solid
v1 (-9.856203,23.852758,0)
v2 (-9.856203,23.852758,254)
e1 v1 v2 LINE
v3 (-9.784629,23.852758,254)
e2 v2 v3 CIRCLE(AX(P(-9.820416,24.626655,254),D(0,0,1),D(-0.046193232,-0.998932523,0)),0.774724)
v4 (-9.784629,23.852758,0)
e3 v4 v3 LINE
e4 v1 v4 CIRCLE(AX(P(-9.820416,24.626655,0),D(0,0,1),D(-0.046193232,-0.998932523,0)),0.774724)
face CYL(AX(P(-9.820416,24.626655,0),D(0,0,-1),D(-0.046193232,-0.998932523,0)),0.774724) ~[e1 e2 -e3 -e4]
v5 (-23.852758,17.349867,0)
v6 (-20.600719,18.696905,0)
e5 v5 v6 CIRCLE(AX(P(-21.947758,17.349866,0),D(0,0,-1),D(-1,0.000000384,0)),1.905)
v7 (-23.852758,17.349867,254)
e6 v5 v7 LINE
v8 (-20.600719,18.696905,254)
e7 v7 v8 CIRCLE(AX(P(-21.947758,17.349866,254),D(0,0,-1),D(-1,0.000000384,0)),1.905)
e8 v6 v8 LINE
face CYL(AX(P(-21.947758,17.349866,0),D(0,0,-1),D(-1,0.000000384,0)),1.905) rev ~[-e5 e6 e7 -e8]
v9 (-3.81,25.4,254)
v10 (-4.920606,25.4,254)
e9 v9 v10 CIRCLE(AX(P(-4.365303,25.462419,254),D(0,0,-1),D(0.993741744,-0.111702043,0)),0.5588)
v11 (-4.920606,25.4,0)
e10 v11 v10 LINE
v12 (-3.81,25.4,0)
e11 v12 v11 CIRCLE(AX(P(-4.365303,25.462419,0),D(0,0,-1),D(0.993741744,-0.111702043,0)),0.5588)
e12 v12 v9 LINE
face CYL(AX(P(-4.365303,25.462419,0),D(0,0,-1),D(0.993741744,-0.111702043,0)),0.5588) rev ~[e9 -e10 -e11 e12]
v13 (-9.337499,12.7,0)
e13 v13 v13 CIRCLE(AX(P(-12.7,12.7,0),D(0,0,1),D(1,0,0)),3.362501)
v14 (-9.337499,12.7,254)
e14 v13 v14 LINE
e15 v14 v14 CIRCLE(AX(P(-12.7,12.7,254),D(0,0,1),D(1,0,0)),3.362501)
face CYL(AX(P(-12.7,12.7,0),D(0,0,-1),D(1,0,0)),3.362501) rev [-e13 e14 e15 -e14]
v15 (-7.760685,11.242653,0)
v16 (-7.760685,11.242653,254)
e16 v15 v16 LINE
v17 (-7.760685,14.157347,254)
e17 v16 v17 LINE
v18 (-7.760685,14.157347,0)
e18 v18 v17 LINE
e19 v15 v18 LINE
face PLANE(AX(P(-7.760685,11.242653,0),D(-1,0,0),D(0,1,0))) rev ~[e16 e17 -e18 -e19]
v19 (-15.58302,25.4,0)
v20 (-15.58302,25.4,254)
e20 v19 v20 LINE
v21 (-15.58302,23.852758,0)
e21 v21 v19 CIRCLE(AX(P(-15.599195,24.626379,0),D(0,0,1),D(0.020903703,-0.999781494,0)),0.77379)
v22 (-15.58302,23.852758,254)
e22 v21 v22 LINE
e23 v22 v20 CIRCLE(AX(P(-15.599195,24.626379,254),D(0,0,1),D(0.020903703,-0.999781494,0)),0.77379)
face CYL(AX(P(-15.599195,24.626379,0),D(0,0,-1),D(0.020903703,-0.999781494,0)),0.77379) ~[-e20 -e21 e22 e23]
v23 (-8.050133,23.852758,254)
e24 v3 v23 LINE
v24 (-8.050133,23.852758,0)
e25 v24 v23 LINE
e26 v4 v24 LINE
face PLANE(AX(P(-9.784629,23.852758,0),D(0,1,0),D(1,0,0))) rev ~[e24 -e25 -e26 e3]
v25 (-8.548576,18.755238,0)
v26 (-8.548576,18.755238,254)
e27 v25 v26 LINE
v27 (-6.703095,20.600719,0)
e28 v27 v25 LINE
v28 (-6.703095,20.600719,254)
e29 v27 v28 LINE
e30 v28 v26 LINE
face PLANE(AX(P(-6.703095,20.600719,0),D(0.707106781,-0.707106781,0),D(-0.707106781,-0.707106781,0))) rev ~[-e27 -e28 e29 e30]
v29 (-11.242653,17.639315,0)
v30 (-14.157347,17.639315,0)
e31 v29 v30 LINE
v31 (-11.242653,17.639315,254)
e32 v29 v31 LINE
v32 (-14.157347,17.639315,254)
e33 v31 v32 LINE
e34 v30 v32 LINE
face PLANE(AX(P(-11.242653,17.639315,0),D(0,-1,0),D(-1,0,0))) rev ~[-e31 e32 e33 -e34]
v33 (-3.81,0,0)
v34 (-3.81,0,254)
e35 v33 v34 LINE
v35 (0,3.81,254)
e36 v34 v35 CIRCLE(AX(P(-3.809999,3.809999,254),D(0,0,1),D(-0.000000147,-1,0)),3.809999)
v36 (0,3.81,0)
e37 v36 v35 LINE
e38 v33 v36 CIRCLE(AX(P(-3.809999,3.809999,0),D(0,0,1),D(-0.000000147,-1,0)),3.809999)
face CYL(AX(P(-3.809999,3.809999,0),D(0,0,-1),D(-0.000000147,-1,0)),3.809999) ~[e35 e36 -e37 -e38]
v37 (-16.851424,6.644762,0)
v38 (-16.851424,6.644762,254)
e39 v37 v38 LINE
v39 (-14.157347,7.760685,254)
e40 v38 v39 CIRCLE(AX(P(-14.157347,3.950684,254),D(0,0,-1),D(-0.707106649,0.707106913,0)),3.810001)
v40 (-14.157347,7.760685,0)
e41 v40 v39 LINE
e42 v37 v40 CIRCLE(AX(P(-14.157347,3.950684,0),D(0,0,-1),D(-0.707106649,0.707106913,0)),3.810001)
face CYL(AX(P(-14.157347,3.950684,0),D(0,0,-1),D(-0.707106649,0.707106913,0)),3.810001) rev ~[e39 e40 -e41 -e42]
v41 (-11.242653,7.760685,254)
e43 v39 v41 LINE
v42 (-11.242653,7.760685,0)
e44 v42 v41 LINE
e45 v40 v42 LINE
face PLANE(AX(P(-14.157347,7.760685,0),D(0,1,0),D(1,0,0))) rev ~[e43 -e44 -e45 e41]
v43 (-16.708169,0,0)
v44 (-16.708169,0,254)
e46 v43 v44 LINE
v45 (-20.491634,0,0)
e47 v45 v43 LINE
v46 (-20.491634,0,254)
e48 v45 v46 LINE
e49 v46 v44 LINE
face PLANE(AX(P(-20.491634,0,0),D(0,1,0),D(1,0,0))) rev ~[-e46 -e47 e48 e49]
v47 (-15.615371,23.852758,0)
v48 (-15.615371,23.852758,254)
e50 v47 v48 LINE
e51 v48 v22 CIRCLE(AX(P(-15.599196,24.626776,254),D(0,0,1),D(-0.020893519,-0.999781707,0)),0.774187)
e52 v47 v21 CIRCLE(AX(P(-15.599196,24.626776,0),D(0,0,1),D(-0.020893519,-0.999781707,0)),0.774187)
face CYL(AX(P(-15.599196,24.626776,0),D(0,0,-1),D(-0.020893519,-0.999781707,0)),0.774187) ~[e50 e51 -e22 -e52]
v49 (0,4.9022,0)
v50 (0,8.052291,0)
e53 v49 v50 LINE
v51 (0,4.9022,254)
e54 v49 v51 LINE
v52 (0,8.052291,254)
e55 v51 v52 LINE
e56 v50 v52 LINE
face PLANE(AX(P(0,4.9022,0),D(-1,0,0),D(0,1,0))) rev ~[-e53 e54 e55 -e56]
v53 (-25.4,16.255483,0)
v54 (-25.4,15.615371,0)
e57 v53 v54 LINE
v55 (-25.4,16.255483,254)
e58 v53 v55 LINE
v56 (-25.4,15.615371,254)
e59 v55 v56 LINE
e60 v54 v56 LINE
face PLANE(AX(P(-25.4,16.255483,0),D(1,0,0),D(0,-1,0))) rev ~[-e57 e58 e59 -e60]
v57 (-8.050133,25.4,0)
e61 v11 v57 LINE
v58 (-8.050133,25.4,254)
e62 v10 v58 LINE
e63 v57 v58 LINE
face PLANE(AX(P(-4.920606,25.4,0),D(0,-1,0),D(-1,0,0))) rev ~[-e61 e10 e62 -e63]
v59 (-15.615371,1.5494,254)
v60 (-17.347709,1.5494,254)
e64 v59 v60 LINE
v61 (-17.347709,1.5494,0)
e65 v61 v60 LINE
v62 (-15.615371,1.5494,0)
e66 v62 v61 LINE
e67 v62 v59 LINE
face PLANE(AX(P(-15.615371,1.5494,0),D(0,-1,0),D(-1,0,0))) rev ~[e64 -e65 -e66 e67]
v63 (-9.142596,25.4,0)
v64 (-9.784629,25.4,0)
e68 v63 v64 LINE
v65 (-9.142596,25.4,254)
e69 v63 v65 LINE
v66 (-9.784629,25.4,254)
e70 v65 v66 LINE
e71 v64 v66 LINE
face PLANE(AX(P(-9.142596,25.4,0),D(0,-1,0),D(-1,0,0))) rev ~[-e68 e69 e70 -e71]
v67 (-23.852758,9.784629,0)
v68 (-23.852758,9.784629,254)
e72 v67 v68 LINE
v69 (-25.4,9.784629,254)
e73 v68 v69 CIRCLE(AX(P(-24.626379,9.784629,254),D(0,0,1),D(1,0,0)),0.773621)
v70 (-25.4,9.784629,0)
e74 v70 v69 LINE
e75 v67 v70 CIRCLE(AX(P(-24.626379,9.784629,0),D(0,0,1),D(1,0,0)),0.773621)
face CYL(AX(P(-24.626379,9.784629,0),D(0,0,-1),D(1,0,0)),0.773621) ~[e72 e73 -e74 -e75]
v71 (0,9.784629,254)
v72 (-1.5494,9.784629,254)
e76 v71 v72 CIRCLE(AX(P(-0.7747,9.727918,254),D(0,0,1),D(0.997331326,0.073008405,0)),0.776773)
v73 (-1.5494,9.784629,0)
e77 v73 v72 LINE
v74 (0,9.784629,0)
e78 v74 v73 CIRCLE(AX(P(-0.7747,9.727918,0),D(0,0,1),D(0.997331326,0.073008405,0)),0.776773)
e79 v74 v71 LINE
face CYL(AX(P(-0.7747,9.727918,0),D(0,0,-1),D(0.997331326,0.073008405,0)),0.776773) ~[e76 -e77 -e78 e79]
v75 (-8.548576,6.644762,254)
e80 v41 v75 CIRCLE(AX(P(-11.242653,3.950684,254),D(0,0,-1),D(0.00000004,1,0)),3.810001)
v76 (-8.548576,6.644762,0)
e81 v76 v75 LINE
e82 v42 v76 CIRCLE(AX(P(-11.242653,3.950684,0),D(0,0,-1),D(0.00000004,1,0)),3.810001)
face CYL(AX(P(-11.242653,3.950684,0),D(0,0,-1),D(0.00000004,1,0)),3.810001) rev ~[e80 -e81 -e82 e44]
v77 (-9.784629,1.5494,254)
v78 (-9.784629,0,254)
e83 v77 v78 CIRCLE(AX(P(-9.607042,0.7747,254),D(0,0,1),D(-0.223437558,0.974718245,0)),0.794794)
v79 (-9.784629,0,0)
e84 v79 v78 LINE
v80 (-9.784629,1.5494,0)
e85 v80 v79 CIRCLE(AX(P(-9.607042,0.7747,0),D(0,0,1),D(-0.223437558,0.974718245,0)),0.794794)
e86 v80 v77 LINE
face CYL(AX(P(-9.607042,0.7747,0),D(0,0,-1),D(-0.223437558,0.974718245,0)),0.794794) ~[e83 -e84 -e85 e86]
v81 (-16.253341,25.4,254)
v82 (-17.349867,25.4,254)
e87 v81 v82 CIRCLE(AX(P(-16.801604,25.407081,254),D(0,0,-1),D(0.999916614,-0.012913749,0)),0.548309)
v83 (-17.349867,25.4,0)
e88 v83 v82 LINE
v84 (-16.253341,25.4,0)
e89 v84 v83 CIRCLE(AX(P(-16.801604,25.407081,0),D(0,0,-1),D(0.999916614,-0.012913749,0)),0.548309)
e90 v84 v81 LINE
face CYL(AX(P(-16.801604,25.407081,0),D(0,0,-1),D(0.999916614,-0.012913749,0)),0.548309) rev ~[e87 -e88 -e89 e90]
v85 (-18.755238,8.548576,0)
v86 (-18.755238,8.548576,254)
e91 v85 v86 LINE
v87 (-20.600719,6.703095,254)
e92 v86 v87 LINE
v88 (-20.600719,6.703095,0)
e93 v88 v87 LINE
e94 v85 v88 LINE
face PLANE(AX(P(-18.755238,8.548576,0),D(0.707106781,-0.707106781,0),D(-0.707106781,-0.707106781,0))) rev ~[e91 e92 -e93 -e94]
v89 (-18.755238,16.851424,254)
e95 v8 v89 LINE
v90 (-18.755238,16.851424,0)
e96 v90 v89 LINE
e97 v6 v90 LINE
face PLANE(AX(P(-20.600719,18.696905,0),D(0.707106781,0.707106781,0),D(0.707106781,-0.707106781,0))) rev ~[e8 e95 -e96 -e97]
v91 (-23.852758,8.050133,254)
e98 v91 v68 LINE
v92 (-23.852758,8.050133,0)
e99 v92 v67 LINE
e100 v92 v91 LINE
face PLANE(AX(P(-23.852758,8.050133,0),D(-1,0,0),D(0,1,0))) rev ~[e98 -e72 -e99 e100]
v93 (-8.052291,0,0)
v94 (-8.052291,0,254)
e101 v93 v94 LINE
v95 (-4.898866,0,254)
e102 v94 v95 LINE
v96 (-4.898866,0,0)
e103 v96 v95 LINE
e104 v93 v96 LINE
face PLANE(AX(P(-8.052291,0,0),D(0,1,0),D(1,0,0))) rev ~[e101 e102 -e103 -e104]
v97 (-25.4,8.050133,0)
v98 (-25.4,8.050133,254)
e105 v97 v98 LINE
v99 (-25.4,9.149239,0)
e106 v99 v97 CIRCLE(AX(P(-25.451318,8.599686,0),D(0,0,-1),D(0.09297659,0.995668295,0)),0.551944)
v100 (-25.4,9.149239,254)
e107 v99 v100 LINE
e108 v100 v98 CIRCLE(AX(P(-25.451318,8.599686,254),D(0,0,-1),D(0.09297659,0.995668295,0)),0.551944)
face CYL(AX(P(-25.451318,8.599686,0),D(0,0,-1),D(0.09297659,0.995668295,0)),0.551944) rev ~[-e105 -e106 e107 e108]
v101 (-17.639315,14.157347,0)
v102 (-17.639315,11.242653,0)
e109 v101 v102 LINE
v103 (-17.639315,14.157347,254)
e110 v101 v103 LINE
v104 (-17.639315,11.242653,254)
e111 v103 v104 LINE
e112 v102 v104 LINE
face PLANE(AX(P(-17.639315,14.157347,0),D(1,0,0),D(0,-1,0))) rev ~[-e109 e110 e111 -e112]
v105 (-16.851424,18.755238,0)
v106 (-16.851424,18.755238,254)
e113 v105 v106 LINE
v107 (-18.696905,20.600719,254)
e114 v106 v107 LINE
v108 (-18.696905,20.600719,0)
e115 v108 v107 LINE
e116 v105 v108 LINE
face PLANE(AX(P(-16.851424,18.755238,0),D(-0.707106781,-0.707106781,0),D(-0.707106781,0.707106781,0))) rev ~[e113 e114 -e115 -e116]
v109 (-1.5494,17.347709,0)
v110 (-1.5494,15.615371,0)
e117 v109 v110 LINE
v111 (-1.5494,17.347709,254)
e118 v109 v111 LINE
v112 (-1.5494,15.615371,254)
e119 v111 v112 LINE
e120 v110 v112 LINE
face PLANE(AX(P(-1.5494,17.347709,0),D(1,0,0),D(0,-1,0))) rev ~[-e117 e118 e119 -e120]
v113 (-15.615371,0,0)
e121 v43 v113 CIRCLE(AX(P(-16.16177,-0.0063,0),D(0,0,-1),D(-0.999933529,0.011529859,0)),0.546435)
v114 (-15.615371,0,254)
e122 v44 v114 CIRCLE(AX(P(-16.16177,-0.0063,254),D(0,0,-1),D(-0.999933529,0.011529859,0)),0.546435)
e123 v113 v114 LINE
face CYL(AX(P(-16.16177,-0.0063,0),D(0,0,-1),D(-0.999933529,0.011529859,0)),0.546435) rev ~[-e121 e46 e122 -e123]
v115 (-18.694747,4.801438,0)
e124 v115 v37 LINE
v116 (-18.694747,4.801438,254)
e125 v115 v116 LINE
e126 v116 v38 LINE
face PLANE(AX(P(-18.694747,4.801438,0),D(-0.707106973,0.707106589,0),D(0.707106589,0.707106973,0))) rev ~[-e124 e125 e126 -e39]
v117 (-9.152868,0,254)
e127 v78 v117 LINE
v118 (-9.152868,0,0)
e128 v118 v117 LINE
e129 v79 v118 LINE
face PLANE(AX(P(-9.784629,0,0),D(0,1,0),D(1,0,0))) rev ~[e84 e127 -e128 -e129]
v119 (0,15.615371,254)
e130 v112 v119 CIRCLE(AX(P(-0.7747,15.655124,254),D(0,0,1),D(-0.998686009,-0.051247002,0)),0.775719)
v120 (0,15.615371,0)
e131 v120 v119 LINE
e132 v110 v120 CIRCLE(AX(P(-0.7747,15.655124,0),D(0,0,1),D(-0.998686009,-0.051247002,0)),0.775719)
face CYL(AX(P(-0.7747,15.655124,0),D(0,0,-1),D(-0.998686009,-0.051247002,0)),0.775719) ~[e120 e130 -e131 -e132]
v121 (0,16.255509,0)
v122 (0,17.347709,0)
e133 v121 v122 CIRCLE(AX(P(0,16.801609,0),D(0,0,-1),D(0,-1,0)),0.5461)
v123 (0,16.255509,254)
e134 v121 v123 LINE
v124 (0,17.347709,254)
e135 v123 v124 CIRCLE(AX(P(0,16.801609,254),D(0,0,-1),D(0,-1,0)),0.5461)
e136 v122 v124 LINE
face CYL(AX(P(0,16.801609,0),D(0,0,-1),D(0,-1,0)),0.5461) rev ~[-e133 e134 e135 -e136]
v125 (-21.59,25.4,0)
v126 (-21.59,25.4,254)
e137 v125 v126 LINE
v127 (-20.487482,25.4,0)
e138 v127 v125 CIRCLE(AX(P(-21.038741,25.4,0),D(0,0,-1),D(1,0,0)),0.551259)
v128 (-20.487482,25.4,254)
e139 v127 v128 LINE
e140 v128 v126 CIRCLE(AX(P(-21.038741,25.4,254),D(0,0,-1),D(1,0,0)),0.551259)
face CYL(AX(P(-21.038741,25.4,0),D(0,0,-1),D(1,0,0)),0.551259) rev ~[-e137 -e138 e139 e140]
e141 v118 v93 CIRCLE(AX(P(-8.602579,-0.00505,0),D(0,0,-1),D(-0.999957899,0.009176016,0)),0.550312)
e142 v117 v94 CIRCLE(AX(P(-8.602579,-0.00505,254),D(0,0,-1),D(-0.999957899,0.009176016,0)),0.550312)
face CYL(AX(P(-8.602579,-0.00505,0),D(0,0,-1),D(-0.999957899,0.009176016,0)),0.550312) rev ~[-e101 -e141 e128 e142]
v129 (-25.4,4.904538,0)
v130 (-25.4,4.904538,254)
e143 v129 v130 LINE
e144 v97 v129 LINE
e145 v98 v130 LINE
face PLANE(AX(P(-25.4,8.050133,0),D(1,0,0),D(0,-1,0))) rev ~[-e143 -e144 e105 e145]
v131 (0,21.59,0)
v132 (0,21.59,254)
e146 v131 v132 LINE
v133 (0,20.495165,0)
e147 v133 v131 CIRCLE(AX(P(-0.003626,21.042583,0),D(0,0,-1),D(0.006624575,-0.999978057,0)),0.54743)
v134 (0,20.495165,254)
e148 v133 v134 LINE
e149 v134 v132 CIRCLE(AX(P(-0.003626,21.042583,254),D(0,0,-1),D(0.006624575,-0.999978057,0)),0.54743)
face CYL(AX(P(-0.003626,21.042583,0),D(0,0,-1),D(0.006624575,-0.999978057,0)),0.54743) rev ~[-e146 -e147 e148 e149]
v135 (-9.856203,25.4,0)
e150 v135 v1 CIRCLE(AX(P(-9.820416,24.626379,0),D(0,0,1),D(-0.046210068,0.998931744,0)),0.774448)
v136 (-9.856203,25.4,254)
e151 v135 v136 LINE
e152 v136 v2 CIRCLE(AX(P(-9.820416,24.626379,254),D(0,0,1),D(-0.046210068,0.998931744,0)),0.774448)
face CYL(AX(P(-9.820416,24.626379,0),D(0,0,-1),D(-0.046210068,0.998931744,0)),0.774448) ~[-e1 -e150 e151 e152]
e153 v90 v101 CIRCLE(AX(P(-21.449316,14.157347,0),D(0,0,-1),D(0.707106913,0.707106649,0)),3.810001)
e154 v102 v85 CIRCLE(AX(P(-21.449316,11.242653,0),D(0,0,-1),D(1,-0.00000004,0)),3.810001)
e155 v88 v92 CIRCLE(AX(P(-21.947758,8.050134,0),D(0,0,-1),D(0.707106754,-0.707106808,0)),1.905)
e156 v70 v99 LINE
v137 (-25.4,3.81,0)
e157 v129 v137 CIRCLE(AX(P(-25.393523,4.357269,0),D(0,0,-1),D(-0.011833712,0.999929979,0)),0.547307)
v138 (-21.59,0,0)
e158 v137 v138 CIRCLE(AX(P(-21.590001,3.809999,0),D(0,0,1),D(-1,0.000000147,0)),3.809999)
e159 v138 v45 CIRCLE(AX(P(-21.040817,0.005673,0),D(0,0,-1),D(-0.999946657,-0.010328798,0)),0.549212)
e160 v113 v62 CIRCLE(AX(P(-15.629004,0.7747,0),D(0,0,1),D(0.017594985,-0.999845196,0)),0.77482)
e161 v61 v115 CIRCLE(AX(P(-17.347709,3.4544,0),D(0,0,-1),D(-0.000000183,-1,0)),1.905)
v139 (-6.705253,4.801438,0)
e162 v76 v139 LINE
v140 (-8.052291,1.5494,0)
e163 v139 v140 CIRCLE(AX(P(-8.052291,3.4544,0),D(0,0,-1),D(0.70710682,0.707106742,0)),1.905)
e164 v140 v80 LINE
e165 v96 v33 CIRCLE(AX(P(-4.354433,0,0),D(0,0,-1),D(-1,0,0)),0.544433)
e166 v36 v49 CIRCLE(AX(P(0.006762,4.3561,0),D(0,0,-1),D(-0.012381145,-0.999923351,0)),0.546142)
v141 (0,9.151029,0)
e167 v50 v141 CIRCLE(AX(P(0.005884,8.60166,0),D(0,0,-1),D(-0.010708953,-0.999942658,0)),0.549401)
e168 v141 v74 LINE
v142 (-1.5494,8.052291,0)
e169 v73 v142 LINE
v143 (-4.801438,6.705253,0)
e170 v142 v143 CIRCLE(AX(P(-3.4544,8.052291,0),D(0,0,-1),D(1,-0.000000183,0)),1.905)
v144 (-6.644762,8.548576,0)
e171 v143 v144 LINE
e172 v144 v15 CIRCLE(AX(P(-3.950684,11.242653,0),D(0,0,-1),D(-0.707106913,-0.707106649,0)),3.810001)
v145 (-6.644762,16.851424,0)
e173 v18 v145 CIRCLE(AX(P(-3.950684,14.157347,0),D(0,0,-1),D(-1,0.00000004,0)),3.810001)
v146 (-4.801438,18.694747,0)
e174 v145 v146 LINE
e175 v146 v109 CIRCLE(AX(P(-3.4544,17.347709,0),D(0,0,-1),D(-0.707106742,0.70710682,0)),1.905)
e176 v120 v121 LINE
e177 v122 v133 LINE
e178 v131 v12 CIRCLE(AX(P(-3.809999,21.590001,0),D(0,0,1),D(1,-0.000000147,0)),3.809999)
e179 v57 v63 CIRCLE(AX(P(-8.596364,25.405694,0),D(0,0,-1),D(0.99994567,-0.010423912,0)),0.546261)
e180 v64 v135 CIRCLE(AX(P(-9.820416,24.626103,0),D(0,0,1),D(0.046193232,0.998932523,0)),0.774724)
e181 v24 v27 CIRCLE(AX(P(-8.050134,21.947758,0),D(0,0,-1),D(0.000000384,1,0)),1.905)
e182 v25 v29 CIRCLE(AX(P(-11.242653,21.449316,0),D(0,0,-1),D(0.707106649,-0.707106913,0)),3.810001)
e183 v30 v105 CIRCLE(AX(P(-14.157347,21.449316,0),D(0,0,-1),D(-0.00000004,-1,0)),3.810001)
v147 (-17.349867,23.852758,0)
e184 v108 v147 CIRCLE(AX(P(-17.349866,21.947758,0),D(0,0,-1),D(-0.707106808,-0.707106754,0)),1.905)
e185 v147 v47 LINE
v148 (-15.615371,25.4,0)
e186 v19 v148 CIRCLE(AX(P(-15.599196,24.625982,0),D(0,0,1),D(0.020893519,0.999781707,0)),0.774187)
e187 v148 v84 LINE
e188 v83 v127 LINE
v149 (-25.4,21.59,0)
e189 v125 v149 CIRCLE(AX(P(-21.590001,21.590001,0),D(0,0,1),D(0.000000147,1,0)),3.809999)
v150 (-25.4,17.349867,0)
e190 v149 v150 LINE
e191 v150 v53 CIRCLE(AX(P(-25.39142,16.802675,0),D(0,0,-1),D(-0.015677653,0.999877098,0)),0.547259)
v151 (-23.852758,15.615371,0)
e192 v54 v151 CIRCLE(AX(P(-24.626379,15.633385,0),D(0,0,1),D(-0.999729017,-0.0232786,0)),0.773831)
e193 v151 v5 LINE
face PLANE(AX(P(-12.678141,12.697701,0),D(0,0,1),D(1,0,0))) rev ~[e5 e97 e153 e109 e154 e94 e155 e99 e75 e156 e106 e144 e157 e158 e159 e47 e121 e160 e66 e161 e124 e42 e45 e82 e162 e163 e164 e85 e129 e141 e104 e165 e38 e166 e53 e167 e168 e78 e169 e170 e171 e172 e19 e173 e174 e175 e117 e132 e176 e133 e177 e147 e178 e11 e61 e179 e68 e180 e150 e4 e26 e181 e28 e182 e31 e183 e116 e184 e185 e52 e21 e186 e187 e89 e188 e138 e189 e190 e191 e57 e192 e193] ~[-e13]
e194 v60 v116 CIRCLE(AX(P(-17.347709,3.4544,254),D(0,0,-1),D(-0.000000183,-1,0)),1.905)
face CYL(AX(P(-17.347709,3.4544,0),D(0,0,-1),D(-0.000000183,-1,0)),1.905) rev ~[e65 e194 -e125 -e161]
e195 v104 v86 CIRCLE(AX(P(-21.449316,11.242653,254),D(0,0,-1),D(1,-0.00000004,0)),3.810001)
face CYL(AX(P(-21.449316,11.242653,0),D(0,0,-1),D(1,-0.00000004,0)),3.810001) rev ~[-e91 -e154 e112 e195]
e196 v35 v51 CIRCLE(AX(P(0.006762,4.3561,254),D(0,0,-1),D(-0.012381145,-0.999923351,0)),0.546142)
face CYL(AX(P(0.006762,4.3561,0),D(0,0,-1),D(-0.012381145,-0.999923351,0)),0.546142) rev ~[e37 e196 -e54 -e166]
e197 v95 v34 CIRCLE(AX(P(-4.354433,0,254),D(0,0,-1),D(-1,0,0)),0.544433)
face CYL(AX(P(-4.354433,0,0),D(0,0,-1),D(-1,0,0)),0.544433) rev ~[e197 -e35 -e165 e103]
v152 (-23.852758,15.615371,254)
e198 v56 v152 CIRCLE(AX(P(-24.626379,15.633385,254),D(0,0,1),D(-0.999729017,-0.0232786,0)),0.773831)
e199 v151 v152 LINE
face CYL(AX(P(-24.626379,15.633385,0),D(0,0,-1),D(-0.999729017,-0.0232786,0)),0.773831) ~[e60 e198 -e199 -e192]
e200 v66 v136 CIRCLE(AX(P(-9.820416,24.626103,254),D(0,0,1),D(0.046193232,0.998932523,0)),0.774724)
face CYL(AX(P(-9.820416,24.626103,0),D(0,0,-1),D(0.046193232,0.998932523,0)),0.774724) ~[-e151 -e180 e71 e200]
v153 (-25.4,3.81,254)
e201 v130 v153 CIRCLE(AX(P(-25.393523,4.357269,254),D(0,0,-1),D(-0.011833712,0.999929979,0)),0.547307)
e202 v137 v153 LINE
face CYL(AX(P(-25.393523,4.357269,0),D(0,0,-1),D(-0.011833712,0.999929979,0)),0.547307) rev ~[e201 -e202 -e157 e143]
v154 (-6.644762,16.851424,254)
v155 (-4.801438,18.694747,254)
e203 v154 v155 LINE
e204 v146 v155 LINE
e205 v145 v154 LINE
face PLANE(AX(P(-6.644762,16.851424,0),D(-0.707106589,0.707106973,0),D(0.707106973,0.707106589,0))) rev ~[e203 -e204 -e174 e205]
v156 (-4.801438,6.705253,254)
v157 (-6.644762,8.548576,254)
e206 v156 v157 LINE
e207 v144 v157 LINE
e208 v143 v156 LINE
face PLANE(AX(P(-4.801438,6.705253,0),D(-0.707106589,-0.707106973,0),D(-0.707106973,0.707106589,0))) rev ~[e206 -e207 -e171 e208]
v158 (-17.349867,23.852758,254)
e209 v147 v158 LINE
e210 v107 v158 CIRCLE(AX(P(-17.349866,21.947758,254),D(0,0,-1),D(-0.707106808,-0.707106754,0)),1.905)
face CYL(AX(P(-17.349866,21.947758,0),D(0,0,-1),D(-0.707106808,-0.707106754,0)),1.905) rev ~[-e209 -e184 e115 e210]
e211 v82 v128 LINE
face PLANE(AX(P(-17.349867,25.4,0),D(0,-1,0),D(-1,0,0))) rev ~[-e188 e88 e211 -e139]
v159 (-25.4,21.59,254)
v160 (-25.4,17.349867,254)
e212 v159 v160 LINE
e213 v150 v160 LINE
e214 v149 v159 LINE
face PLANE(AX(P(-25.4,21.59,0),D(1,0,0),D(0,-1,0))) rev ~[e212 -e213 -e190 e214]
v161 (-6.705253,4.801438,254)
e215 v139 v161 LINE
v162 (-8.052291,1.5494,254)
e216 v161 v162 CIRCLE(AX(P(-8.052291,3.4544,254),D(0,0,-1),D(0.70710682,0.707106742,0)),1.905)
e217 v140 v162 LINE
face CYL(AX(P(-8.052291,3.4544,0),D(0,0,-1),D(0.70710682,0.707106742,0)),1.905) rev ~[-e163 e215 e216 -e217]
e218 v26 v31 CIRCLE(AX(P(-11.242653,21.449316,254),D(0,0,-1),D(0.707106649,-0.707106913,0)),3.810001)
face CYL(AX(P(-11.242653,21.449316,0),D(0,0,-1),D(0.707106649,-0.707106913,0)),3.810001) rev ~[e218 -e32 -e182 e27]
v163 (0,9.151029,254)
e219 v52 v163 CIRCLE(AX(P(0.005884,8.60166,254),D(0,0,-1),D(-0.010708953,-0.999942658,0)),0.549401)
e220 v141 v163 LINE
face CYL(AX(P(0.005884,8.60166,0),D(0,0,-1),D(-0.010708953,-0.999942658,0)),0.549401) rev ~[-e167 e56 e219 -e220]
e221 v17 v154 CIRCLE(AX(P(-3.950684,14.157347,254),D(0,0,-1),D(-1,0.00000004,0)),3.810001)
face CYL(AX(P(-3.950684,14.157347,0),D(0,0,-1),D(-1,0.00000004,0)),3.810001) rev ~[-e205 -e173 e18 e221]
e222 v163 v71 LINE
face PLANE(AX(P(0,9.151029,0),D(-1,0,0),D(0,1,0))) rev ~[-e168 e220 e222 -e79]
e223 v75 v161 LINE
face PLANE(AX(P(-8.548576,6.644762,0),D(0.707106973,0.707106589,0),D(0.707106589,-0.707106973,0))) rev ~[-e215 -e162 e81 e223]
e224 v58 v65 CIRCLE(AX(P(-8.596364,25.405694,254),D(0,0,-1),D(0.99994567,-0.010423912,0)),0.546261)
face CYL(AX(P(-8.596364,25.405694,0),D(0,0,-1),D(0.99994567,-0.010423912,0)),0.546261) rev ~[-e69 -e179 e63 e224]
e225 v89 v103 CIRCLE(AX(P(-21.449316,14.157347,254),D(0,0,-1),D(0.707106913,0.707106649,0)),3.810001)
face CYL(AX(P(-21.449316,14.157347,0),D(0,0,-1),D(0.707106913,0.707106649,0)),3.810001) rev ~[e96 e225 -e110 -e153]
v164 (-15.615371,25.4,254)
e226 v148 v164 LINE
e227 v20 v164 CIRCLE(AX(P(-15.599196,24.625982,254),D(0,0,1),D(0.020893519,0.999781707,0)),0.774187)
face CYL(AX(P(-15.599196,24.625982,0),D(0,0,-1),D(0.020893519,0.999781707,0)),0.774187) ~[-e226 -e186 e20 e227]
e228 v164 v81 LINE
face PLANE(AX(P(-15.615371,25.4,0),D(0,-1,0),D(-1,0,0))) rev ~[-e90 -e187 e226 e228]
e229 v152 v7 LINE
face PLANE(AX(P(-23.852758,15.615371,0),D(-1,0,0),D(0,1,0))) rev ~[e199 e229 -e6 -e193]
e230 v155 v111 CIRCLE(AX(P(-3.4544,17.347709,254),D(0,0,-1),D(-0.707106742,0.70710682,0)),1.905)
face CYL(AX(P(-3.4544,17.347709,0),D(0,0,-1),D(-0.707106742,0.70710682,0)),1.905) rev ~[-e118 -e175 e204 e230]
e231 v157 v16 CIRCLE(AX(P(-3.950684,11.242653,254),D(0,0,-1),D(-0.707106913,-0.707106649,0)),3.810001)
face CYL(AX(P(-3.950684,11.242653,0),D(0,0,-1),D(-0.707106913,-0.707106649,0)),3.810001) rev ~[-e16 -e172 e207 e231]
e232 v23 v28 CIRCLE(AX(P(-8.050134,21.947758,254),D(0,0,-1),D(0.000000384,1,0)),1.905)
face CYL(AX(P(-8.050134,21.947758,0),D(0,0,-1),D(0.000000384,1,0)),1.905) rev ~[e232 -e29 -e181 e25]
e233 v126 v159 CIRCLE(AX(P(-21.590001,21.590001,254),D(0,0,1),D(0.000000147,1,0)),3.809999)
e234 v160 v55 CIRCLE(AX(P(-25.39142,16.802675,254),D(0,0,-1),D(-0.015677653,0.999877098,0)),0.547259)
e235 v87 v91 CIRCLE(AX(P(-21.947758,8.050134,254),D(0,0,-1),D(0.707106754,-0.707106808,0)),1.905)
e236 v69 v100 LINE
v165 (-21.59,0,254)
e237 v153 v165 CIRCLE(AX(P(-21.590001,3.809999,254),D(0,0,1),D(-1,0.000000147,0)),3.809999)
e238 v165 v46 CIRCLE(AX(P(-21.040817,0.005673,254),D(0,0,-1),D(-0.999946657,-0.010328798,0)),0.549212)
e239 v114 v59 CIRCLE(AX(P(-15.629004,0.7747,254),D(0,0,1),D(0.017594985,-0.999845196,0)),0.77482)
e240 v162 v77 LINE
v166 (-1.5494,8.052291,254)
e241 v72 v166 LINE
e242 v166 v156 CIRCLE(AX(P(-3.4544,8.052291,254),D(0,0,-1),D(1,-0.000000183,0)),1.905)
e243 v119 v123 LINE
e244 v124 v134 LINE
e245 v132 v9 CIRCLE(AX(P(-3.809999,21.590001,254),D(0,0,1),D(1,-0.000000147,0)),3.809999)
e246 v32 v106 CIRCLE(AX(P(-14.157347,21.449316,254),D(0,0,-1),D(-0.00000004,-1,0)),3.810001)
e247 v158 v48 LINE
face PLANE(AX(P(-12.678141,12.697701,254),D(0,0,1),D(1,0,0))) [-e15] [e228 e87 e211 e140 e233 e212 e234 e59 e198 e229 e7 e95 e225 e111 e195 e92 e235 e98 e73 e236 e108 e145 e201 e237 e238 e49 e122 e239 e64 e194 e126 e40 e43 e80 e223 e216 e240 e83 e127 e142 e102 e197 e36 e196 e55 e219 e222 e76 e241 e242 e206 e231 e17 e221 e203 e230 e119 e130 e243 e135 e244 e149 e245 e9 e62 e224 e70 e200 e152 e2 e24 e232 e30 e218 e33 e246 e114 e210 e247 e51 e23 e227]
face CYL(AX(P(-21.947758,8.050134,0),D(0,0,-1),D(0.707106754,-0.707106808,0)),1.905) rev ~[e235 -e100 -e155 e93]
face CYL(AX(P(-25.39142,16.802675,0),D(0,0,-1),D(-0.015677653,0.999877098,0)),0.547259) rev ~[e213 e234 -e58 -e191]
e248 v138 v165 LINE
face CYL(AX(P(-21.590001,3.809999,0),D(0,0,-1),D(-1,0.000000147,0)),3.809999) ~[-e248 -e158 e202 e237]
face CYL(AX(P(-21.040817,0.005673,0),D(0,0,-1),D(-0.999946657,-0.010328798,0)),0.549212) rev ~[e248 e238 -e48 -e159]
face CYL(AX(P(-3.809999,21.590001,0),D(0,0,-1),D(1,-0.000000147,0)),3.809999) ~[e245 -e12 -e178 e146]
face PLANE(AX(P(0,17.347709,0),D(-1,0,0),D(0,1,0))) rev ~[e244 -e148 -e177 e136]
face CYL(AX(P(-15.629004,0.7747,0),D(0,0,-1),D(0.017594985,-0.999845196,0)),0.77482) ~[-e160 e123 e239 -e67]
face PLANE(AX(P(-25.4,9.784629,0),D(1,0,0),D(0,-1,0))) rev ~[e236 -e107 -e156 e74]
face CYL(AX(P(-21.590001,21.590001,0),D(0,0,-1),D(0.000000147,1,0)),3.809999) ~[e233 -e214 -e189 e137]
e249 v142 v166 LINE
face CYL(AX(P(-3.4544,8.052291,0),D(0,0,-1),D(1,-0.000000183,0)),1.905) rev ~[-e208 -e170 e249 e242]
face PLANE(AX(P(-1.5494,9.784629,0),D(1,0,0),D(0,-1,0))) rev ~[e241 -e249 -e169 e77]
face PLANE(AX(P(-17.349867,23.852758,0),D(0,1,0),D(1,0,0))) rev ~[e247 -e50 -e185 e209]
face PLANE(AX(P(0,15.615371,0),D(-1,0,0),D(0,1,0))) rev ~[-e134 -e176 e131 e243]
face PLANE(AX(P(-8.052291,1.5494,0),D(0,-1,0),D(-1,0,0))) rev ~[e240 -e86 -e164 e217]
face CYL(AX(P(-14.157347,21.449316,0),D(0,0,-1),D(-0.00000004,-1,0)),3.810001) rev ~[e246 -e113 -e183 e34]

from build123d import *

# Parameters (mm, degrees)
F0_R     = 3.362501
F1_DEPTH = 254


with BuildPart() as f1:
    # F0 (on Top) → F1 (new body)
    with BuildSketch(Plane.XY):
        with BuildLine():
            ThreePointArc((-8.548576, 18.755238), (-9.784629, 17.929334), (-11.242653, 17.639315))
            Line((-11.242653, 17.639315), (-14.157347, 17.639315))
            ThreePointArc((-14.157347, 17.639315), (-15.615371, 17.929334), (-16.851424, 18.755238))
            Line((-16.851424, 18.755238), (-18.696905, 20.600719))
            ThreePointArc((-18.696905, 20.600719), (-19.109857, 22.67677), (-17.349867, 23.852758))
            Line((-17.349867, 23.852758), (-15.615371, 23.852758))
            Line((-15.615371, 23.852758), (-15.58302, 23.852758))
            ThreePointArc((-15.58302, 23.852758), (-14.825405, 24.626379), (-15.58302, 25.4))
            Line((-15.58302, 25.4), (-15.615371, 25.4))
            Line((-15.615371, 25.4), (-16.253341, 25.4))
            ThreePointArc((-16.253341, 25.4), (-16.801604, 24.858772), (-17.349867, 25.4))
            Line((-17.349867, 25.4), (-20.487482, 25.4))
            ThreePointArc((-20.487482, 25.4), (-21.038741, 24.848741), (-21.59, 25.4))
            ThreePointArc((-21.59, 25.4), (-24.284077, 24.284077), (-25.4, 21.59))
            Line((-25.4, 21.59), (-25.4, 20.504724))
            Line((-25.4, 20.504724), (-25.4, 17.349867))
            ThreePointArc((-25.4, 17.349867), (-24.844161, 16.802675), (-25.4, 16.255483))
            Line((-25.4, 16.255483), (-25.4, 15.615371))
            ThreePointArc((-25.4, 15.615371), (-24.626379, 14.859554), (-23.852758, 15.615371))
            Line((-23.852758, 15.615371), (-23.852758, 17.349867))
            ThreePointArc((-23.852758, 17.349867), (-22.67677, 19.109857), (-20.600719, 18.696905))
            Line((-20.600719, 18.696905), (-18.755238, 16.851424))
            ThreePointArc((-18.755238, 16.851424), (-17.929334, 15.615371), (-17.639315, 14.157347))
            Line((-17.639315, 14.157347), (-17.639315, 11.242653))
            ThreePointArc((-17.639315, 11.242653), (-17.929334, 9.784629), (-18.755238, 8.548576))
            Line((-18.755238, 8.548576), (-20.600719, 6.703095))
            ThreePointArc((-20.600719, 6.703095), (-22.67677, 6.290143), (-23.852758, 8.050133))
            Line((-23.852758, 8.050133), (-23.852758, 9.784629))
            ThreePointArc((-23.852758, 9.784629), (-24.626379, 10.55825), (-25.4, 9.784629))
            Line((-25.4, 9.784629), (-25.4, 9.149239))
            ThreePointArc((-25.4, 9.149239), (-24.899374, 8.599686), (-25.4, 8.050133))
            Line((-25.4, 8.050133), (-25.4, 4.904538))
            ThreePointArc((-25.4, 4.904538), (-24.846216, 4.357269), (-25.4, 3.81))
            ThreePointArc((-25.4, 3.81), (-24.284077, 1.115923), (-21.59, 0))
            ThreePointArc((-21.59, 0), (-21.040817, 0.554885), (-20.491634, 0))
            Line((-20.491634, 0), (-16.708169, 0))
            ThreePointArc((-16.708169, 0), (-16.16177, 0.540135), (-15.615371, 0))
            ThreePointArc((-15.615371, 0), (-14.854184, 0.7747), (-15.615371, 1.5494))
            Line((-15.615371, 1.5494), (-17.347709, 1.5494))
            ThreePointArc((-17.347709, 1.5494), (-19.107699, 2.725388), (-18.694747, 4.801438))
            Line((-18.694747, 4.801438), (-16.851424, 6.644762))
            ThreePointArc((-16.851424, 6.644762), (-15.615371, 7.470666), (-14.157347, 7.760685))
            Line((-14.157347, 7.760685), (-11.242653, 7.760685))
            ThreePointArc((-11.242653, 7.760685), (-9.784629, 7.470666), (-8.548576, 6.644762))
            Line((-8.548576, 6.644762), (-6.705253, 4.801438))
            ThreePointArc((-6.705253, 4.801438), (-6.292301, 2.725388), (-8.052291, 1.5494))
            Line((-8.052291, 1.5494), (-9.784629, 1.5494))
            ThreePointArc((-9.784629, 1.5494), (-10.401836, 0.7747), (-9.784629, 0))
            Line((-9.784629, 0), (-9.152868, 0))
            ThreePointArc((-9.152868, 0), (-8.602579, 0.545262), (-8.052291, 0))
            Line((-8.052291, 0), (-4.898866, 0))
            ThreePointArc((-4.898866, 0), (-4.354433, 0.544433), (-3.81, 0))
            ThreePointArc((-3.81, 0), (-1.115923, 1.115923), (0, 3.81))
            ThreePointArc((0, 3.81), (-0.53938, 4.3561), (0, 4.9022))
            Line((0, 4.9022), (0, 8.052291))
            ThreePointArc((0, 8.052291), (-0.543517, 8.60166), (0, 9.151029))
            Line((0, 9.151029), (0, 9.784629))
            ThreePointArc((0, 9.784629), (-0.7747, 10.504691), (-1.5494, 9.784629))
            Line((-1.5494, 9.784629), (-1.5494, 8.052291))
            ThreePointArc((-1.5494, 8.052291), (-2.725388, 6.292301), (-4.801438, 6.705253))
            Line((-4.801438, 6.705253), (-6.644762, 8.548576))
            ThreePointArc((-6.644762, 8.548576), (-7.470666, 9.784629), (-7.760685, 11.242653))
            Line((-7.760685, 11.242653), (-7.760685, 14.157347))
            ThreePointArc((-7.760685, 14.157347), (-7.470666, 15.615371), (-6.644762, 16.851424))
            Line((-6.644762, 16.851424), (-4.801438, 18.694747))
            ThreePointArc((-4.801438, 18.694747), (-2.725388, 19.107699), (-1.5494, 17.347709))
            Line((-1.5494, 17.347709), (-1.5494, 15.615371))
            ThreePointArc((-1.5494, 15.615371), (-0.7747, 14.879405), (0, 15.615371))
            Line((0, 15.615371), (0, 16.255509))
            ThreePointArc((0, 16.255509), (-0.5461, 16.801609), (0, 17.347709))
            Line((0, 17.347709), (0, 20.495165))
            ThreePointArc((0, 20.495165), (-0.551056, 21.042583), (0, 21.59))
            ThreePointArc((0, 21.59), (-1.115923, 24.284077), (-3.81, 25.4))
            ThreePointArc((-3.81, 25.4), (-4.365303, 24.903619), (-4.920606, 25.4))
            Line((-4.920606, 25.4), (-8.050133, 25.4))
            ThreePointArc((-8.050133, 25.4), (-8.596365, 24.859433), (-9.142596, 25.4))
            Line((-9.142596, 25.4), (-9.784629, 25.4))
            Line((-9.784629, 25.4), (-9.856203, 25.4))
            ThreePointArc((-9.856203, 25.4), (-10.594864, 24.626379), (-9.856203, 23.852758))
            Line((-9.856203, 23.852758), (-9.784629, 23.852758))
            Line((-9.784629, 23.852758), (-8.050133, 23.852758))
            ThreePointArc((-8.050133, 23.852758), (-6.290143, 22.67677), (-6.703095, 20.600719))
            Line((-6.703095, 20.600719), (-8.548576, 18.755238))
        make_face()
        with Locations((-12.7, 12.7)):
            Circle(F0_R, mode=Mode.SUBTRACT)
        with BuildLine():
            ThreePointArc((-9.856203, 23.852758), (-9.820416, 23.851931), (-9.784629, 23.852758))
            Line((-9.784629, 23.852758), (-9.856203, 23.852758))
        make_face()
        with BuildLine():
            Line((-15.58302, 23.852758), (-15.615371, 23.852758))
            ThreePointArc((-15.615371, 23.852758), (-15.599195, 23.852589), (-15.58302, 23.852758))
        make_face()
        with BuildLine():
            ThreePointArc((-9.784629, 25.4), (-9.820416, 25.400827), (-9.856203, 25.4))
            Line((-9.856203, 25.4), (-9.784629, 25.4))
        make_face()
        with BuildLine():
            Line((-15.615371, 25.4), (-15.58302, 25.4))
            ThreePointArc((-15.58302, 25.4), (-15.599195, 25.400169), (-15.615371, 25.4))
        make_face()
    extrude(amount=F1_DEPTH)


solid = f1.part
